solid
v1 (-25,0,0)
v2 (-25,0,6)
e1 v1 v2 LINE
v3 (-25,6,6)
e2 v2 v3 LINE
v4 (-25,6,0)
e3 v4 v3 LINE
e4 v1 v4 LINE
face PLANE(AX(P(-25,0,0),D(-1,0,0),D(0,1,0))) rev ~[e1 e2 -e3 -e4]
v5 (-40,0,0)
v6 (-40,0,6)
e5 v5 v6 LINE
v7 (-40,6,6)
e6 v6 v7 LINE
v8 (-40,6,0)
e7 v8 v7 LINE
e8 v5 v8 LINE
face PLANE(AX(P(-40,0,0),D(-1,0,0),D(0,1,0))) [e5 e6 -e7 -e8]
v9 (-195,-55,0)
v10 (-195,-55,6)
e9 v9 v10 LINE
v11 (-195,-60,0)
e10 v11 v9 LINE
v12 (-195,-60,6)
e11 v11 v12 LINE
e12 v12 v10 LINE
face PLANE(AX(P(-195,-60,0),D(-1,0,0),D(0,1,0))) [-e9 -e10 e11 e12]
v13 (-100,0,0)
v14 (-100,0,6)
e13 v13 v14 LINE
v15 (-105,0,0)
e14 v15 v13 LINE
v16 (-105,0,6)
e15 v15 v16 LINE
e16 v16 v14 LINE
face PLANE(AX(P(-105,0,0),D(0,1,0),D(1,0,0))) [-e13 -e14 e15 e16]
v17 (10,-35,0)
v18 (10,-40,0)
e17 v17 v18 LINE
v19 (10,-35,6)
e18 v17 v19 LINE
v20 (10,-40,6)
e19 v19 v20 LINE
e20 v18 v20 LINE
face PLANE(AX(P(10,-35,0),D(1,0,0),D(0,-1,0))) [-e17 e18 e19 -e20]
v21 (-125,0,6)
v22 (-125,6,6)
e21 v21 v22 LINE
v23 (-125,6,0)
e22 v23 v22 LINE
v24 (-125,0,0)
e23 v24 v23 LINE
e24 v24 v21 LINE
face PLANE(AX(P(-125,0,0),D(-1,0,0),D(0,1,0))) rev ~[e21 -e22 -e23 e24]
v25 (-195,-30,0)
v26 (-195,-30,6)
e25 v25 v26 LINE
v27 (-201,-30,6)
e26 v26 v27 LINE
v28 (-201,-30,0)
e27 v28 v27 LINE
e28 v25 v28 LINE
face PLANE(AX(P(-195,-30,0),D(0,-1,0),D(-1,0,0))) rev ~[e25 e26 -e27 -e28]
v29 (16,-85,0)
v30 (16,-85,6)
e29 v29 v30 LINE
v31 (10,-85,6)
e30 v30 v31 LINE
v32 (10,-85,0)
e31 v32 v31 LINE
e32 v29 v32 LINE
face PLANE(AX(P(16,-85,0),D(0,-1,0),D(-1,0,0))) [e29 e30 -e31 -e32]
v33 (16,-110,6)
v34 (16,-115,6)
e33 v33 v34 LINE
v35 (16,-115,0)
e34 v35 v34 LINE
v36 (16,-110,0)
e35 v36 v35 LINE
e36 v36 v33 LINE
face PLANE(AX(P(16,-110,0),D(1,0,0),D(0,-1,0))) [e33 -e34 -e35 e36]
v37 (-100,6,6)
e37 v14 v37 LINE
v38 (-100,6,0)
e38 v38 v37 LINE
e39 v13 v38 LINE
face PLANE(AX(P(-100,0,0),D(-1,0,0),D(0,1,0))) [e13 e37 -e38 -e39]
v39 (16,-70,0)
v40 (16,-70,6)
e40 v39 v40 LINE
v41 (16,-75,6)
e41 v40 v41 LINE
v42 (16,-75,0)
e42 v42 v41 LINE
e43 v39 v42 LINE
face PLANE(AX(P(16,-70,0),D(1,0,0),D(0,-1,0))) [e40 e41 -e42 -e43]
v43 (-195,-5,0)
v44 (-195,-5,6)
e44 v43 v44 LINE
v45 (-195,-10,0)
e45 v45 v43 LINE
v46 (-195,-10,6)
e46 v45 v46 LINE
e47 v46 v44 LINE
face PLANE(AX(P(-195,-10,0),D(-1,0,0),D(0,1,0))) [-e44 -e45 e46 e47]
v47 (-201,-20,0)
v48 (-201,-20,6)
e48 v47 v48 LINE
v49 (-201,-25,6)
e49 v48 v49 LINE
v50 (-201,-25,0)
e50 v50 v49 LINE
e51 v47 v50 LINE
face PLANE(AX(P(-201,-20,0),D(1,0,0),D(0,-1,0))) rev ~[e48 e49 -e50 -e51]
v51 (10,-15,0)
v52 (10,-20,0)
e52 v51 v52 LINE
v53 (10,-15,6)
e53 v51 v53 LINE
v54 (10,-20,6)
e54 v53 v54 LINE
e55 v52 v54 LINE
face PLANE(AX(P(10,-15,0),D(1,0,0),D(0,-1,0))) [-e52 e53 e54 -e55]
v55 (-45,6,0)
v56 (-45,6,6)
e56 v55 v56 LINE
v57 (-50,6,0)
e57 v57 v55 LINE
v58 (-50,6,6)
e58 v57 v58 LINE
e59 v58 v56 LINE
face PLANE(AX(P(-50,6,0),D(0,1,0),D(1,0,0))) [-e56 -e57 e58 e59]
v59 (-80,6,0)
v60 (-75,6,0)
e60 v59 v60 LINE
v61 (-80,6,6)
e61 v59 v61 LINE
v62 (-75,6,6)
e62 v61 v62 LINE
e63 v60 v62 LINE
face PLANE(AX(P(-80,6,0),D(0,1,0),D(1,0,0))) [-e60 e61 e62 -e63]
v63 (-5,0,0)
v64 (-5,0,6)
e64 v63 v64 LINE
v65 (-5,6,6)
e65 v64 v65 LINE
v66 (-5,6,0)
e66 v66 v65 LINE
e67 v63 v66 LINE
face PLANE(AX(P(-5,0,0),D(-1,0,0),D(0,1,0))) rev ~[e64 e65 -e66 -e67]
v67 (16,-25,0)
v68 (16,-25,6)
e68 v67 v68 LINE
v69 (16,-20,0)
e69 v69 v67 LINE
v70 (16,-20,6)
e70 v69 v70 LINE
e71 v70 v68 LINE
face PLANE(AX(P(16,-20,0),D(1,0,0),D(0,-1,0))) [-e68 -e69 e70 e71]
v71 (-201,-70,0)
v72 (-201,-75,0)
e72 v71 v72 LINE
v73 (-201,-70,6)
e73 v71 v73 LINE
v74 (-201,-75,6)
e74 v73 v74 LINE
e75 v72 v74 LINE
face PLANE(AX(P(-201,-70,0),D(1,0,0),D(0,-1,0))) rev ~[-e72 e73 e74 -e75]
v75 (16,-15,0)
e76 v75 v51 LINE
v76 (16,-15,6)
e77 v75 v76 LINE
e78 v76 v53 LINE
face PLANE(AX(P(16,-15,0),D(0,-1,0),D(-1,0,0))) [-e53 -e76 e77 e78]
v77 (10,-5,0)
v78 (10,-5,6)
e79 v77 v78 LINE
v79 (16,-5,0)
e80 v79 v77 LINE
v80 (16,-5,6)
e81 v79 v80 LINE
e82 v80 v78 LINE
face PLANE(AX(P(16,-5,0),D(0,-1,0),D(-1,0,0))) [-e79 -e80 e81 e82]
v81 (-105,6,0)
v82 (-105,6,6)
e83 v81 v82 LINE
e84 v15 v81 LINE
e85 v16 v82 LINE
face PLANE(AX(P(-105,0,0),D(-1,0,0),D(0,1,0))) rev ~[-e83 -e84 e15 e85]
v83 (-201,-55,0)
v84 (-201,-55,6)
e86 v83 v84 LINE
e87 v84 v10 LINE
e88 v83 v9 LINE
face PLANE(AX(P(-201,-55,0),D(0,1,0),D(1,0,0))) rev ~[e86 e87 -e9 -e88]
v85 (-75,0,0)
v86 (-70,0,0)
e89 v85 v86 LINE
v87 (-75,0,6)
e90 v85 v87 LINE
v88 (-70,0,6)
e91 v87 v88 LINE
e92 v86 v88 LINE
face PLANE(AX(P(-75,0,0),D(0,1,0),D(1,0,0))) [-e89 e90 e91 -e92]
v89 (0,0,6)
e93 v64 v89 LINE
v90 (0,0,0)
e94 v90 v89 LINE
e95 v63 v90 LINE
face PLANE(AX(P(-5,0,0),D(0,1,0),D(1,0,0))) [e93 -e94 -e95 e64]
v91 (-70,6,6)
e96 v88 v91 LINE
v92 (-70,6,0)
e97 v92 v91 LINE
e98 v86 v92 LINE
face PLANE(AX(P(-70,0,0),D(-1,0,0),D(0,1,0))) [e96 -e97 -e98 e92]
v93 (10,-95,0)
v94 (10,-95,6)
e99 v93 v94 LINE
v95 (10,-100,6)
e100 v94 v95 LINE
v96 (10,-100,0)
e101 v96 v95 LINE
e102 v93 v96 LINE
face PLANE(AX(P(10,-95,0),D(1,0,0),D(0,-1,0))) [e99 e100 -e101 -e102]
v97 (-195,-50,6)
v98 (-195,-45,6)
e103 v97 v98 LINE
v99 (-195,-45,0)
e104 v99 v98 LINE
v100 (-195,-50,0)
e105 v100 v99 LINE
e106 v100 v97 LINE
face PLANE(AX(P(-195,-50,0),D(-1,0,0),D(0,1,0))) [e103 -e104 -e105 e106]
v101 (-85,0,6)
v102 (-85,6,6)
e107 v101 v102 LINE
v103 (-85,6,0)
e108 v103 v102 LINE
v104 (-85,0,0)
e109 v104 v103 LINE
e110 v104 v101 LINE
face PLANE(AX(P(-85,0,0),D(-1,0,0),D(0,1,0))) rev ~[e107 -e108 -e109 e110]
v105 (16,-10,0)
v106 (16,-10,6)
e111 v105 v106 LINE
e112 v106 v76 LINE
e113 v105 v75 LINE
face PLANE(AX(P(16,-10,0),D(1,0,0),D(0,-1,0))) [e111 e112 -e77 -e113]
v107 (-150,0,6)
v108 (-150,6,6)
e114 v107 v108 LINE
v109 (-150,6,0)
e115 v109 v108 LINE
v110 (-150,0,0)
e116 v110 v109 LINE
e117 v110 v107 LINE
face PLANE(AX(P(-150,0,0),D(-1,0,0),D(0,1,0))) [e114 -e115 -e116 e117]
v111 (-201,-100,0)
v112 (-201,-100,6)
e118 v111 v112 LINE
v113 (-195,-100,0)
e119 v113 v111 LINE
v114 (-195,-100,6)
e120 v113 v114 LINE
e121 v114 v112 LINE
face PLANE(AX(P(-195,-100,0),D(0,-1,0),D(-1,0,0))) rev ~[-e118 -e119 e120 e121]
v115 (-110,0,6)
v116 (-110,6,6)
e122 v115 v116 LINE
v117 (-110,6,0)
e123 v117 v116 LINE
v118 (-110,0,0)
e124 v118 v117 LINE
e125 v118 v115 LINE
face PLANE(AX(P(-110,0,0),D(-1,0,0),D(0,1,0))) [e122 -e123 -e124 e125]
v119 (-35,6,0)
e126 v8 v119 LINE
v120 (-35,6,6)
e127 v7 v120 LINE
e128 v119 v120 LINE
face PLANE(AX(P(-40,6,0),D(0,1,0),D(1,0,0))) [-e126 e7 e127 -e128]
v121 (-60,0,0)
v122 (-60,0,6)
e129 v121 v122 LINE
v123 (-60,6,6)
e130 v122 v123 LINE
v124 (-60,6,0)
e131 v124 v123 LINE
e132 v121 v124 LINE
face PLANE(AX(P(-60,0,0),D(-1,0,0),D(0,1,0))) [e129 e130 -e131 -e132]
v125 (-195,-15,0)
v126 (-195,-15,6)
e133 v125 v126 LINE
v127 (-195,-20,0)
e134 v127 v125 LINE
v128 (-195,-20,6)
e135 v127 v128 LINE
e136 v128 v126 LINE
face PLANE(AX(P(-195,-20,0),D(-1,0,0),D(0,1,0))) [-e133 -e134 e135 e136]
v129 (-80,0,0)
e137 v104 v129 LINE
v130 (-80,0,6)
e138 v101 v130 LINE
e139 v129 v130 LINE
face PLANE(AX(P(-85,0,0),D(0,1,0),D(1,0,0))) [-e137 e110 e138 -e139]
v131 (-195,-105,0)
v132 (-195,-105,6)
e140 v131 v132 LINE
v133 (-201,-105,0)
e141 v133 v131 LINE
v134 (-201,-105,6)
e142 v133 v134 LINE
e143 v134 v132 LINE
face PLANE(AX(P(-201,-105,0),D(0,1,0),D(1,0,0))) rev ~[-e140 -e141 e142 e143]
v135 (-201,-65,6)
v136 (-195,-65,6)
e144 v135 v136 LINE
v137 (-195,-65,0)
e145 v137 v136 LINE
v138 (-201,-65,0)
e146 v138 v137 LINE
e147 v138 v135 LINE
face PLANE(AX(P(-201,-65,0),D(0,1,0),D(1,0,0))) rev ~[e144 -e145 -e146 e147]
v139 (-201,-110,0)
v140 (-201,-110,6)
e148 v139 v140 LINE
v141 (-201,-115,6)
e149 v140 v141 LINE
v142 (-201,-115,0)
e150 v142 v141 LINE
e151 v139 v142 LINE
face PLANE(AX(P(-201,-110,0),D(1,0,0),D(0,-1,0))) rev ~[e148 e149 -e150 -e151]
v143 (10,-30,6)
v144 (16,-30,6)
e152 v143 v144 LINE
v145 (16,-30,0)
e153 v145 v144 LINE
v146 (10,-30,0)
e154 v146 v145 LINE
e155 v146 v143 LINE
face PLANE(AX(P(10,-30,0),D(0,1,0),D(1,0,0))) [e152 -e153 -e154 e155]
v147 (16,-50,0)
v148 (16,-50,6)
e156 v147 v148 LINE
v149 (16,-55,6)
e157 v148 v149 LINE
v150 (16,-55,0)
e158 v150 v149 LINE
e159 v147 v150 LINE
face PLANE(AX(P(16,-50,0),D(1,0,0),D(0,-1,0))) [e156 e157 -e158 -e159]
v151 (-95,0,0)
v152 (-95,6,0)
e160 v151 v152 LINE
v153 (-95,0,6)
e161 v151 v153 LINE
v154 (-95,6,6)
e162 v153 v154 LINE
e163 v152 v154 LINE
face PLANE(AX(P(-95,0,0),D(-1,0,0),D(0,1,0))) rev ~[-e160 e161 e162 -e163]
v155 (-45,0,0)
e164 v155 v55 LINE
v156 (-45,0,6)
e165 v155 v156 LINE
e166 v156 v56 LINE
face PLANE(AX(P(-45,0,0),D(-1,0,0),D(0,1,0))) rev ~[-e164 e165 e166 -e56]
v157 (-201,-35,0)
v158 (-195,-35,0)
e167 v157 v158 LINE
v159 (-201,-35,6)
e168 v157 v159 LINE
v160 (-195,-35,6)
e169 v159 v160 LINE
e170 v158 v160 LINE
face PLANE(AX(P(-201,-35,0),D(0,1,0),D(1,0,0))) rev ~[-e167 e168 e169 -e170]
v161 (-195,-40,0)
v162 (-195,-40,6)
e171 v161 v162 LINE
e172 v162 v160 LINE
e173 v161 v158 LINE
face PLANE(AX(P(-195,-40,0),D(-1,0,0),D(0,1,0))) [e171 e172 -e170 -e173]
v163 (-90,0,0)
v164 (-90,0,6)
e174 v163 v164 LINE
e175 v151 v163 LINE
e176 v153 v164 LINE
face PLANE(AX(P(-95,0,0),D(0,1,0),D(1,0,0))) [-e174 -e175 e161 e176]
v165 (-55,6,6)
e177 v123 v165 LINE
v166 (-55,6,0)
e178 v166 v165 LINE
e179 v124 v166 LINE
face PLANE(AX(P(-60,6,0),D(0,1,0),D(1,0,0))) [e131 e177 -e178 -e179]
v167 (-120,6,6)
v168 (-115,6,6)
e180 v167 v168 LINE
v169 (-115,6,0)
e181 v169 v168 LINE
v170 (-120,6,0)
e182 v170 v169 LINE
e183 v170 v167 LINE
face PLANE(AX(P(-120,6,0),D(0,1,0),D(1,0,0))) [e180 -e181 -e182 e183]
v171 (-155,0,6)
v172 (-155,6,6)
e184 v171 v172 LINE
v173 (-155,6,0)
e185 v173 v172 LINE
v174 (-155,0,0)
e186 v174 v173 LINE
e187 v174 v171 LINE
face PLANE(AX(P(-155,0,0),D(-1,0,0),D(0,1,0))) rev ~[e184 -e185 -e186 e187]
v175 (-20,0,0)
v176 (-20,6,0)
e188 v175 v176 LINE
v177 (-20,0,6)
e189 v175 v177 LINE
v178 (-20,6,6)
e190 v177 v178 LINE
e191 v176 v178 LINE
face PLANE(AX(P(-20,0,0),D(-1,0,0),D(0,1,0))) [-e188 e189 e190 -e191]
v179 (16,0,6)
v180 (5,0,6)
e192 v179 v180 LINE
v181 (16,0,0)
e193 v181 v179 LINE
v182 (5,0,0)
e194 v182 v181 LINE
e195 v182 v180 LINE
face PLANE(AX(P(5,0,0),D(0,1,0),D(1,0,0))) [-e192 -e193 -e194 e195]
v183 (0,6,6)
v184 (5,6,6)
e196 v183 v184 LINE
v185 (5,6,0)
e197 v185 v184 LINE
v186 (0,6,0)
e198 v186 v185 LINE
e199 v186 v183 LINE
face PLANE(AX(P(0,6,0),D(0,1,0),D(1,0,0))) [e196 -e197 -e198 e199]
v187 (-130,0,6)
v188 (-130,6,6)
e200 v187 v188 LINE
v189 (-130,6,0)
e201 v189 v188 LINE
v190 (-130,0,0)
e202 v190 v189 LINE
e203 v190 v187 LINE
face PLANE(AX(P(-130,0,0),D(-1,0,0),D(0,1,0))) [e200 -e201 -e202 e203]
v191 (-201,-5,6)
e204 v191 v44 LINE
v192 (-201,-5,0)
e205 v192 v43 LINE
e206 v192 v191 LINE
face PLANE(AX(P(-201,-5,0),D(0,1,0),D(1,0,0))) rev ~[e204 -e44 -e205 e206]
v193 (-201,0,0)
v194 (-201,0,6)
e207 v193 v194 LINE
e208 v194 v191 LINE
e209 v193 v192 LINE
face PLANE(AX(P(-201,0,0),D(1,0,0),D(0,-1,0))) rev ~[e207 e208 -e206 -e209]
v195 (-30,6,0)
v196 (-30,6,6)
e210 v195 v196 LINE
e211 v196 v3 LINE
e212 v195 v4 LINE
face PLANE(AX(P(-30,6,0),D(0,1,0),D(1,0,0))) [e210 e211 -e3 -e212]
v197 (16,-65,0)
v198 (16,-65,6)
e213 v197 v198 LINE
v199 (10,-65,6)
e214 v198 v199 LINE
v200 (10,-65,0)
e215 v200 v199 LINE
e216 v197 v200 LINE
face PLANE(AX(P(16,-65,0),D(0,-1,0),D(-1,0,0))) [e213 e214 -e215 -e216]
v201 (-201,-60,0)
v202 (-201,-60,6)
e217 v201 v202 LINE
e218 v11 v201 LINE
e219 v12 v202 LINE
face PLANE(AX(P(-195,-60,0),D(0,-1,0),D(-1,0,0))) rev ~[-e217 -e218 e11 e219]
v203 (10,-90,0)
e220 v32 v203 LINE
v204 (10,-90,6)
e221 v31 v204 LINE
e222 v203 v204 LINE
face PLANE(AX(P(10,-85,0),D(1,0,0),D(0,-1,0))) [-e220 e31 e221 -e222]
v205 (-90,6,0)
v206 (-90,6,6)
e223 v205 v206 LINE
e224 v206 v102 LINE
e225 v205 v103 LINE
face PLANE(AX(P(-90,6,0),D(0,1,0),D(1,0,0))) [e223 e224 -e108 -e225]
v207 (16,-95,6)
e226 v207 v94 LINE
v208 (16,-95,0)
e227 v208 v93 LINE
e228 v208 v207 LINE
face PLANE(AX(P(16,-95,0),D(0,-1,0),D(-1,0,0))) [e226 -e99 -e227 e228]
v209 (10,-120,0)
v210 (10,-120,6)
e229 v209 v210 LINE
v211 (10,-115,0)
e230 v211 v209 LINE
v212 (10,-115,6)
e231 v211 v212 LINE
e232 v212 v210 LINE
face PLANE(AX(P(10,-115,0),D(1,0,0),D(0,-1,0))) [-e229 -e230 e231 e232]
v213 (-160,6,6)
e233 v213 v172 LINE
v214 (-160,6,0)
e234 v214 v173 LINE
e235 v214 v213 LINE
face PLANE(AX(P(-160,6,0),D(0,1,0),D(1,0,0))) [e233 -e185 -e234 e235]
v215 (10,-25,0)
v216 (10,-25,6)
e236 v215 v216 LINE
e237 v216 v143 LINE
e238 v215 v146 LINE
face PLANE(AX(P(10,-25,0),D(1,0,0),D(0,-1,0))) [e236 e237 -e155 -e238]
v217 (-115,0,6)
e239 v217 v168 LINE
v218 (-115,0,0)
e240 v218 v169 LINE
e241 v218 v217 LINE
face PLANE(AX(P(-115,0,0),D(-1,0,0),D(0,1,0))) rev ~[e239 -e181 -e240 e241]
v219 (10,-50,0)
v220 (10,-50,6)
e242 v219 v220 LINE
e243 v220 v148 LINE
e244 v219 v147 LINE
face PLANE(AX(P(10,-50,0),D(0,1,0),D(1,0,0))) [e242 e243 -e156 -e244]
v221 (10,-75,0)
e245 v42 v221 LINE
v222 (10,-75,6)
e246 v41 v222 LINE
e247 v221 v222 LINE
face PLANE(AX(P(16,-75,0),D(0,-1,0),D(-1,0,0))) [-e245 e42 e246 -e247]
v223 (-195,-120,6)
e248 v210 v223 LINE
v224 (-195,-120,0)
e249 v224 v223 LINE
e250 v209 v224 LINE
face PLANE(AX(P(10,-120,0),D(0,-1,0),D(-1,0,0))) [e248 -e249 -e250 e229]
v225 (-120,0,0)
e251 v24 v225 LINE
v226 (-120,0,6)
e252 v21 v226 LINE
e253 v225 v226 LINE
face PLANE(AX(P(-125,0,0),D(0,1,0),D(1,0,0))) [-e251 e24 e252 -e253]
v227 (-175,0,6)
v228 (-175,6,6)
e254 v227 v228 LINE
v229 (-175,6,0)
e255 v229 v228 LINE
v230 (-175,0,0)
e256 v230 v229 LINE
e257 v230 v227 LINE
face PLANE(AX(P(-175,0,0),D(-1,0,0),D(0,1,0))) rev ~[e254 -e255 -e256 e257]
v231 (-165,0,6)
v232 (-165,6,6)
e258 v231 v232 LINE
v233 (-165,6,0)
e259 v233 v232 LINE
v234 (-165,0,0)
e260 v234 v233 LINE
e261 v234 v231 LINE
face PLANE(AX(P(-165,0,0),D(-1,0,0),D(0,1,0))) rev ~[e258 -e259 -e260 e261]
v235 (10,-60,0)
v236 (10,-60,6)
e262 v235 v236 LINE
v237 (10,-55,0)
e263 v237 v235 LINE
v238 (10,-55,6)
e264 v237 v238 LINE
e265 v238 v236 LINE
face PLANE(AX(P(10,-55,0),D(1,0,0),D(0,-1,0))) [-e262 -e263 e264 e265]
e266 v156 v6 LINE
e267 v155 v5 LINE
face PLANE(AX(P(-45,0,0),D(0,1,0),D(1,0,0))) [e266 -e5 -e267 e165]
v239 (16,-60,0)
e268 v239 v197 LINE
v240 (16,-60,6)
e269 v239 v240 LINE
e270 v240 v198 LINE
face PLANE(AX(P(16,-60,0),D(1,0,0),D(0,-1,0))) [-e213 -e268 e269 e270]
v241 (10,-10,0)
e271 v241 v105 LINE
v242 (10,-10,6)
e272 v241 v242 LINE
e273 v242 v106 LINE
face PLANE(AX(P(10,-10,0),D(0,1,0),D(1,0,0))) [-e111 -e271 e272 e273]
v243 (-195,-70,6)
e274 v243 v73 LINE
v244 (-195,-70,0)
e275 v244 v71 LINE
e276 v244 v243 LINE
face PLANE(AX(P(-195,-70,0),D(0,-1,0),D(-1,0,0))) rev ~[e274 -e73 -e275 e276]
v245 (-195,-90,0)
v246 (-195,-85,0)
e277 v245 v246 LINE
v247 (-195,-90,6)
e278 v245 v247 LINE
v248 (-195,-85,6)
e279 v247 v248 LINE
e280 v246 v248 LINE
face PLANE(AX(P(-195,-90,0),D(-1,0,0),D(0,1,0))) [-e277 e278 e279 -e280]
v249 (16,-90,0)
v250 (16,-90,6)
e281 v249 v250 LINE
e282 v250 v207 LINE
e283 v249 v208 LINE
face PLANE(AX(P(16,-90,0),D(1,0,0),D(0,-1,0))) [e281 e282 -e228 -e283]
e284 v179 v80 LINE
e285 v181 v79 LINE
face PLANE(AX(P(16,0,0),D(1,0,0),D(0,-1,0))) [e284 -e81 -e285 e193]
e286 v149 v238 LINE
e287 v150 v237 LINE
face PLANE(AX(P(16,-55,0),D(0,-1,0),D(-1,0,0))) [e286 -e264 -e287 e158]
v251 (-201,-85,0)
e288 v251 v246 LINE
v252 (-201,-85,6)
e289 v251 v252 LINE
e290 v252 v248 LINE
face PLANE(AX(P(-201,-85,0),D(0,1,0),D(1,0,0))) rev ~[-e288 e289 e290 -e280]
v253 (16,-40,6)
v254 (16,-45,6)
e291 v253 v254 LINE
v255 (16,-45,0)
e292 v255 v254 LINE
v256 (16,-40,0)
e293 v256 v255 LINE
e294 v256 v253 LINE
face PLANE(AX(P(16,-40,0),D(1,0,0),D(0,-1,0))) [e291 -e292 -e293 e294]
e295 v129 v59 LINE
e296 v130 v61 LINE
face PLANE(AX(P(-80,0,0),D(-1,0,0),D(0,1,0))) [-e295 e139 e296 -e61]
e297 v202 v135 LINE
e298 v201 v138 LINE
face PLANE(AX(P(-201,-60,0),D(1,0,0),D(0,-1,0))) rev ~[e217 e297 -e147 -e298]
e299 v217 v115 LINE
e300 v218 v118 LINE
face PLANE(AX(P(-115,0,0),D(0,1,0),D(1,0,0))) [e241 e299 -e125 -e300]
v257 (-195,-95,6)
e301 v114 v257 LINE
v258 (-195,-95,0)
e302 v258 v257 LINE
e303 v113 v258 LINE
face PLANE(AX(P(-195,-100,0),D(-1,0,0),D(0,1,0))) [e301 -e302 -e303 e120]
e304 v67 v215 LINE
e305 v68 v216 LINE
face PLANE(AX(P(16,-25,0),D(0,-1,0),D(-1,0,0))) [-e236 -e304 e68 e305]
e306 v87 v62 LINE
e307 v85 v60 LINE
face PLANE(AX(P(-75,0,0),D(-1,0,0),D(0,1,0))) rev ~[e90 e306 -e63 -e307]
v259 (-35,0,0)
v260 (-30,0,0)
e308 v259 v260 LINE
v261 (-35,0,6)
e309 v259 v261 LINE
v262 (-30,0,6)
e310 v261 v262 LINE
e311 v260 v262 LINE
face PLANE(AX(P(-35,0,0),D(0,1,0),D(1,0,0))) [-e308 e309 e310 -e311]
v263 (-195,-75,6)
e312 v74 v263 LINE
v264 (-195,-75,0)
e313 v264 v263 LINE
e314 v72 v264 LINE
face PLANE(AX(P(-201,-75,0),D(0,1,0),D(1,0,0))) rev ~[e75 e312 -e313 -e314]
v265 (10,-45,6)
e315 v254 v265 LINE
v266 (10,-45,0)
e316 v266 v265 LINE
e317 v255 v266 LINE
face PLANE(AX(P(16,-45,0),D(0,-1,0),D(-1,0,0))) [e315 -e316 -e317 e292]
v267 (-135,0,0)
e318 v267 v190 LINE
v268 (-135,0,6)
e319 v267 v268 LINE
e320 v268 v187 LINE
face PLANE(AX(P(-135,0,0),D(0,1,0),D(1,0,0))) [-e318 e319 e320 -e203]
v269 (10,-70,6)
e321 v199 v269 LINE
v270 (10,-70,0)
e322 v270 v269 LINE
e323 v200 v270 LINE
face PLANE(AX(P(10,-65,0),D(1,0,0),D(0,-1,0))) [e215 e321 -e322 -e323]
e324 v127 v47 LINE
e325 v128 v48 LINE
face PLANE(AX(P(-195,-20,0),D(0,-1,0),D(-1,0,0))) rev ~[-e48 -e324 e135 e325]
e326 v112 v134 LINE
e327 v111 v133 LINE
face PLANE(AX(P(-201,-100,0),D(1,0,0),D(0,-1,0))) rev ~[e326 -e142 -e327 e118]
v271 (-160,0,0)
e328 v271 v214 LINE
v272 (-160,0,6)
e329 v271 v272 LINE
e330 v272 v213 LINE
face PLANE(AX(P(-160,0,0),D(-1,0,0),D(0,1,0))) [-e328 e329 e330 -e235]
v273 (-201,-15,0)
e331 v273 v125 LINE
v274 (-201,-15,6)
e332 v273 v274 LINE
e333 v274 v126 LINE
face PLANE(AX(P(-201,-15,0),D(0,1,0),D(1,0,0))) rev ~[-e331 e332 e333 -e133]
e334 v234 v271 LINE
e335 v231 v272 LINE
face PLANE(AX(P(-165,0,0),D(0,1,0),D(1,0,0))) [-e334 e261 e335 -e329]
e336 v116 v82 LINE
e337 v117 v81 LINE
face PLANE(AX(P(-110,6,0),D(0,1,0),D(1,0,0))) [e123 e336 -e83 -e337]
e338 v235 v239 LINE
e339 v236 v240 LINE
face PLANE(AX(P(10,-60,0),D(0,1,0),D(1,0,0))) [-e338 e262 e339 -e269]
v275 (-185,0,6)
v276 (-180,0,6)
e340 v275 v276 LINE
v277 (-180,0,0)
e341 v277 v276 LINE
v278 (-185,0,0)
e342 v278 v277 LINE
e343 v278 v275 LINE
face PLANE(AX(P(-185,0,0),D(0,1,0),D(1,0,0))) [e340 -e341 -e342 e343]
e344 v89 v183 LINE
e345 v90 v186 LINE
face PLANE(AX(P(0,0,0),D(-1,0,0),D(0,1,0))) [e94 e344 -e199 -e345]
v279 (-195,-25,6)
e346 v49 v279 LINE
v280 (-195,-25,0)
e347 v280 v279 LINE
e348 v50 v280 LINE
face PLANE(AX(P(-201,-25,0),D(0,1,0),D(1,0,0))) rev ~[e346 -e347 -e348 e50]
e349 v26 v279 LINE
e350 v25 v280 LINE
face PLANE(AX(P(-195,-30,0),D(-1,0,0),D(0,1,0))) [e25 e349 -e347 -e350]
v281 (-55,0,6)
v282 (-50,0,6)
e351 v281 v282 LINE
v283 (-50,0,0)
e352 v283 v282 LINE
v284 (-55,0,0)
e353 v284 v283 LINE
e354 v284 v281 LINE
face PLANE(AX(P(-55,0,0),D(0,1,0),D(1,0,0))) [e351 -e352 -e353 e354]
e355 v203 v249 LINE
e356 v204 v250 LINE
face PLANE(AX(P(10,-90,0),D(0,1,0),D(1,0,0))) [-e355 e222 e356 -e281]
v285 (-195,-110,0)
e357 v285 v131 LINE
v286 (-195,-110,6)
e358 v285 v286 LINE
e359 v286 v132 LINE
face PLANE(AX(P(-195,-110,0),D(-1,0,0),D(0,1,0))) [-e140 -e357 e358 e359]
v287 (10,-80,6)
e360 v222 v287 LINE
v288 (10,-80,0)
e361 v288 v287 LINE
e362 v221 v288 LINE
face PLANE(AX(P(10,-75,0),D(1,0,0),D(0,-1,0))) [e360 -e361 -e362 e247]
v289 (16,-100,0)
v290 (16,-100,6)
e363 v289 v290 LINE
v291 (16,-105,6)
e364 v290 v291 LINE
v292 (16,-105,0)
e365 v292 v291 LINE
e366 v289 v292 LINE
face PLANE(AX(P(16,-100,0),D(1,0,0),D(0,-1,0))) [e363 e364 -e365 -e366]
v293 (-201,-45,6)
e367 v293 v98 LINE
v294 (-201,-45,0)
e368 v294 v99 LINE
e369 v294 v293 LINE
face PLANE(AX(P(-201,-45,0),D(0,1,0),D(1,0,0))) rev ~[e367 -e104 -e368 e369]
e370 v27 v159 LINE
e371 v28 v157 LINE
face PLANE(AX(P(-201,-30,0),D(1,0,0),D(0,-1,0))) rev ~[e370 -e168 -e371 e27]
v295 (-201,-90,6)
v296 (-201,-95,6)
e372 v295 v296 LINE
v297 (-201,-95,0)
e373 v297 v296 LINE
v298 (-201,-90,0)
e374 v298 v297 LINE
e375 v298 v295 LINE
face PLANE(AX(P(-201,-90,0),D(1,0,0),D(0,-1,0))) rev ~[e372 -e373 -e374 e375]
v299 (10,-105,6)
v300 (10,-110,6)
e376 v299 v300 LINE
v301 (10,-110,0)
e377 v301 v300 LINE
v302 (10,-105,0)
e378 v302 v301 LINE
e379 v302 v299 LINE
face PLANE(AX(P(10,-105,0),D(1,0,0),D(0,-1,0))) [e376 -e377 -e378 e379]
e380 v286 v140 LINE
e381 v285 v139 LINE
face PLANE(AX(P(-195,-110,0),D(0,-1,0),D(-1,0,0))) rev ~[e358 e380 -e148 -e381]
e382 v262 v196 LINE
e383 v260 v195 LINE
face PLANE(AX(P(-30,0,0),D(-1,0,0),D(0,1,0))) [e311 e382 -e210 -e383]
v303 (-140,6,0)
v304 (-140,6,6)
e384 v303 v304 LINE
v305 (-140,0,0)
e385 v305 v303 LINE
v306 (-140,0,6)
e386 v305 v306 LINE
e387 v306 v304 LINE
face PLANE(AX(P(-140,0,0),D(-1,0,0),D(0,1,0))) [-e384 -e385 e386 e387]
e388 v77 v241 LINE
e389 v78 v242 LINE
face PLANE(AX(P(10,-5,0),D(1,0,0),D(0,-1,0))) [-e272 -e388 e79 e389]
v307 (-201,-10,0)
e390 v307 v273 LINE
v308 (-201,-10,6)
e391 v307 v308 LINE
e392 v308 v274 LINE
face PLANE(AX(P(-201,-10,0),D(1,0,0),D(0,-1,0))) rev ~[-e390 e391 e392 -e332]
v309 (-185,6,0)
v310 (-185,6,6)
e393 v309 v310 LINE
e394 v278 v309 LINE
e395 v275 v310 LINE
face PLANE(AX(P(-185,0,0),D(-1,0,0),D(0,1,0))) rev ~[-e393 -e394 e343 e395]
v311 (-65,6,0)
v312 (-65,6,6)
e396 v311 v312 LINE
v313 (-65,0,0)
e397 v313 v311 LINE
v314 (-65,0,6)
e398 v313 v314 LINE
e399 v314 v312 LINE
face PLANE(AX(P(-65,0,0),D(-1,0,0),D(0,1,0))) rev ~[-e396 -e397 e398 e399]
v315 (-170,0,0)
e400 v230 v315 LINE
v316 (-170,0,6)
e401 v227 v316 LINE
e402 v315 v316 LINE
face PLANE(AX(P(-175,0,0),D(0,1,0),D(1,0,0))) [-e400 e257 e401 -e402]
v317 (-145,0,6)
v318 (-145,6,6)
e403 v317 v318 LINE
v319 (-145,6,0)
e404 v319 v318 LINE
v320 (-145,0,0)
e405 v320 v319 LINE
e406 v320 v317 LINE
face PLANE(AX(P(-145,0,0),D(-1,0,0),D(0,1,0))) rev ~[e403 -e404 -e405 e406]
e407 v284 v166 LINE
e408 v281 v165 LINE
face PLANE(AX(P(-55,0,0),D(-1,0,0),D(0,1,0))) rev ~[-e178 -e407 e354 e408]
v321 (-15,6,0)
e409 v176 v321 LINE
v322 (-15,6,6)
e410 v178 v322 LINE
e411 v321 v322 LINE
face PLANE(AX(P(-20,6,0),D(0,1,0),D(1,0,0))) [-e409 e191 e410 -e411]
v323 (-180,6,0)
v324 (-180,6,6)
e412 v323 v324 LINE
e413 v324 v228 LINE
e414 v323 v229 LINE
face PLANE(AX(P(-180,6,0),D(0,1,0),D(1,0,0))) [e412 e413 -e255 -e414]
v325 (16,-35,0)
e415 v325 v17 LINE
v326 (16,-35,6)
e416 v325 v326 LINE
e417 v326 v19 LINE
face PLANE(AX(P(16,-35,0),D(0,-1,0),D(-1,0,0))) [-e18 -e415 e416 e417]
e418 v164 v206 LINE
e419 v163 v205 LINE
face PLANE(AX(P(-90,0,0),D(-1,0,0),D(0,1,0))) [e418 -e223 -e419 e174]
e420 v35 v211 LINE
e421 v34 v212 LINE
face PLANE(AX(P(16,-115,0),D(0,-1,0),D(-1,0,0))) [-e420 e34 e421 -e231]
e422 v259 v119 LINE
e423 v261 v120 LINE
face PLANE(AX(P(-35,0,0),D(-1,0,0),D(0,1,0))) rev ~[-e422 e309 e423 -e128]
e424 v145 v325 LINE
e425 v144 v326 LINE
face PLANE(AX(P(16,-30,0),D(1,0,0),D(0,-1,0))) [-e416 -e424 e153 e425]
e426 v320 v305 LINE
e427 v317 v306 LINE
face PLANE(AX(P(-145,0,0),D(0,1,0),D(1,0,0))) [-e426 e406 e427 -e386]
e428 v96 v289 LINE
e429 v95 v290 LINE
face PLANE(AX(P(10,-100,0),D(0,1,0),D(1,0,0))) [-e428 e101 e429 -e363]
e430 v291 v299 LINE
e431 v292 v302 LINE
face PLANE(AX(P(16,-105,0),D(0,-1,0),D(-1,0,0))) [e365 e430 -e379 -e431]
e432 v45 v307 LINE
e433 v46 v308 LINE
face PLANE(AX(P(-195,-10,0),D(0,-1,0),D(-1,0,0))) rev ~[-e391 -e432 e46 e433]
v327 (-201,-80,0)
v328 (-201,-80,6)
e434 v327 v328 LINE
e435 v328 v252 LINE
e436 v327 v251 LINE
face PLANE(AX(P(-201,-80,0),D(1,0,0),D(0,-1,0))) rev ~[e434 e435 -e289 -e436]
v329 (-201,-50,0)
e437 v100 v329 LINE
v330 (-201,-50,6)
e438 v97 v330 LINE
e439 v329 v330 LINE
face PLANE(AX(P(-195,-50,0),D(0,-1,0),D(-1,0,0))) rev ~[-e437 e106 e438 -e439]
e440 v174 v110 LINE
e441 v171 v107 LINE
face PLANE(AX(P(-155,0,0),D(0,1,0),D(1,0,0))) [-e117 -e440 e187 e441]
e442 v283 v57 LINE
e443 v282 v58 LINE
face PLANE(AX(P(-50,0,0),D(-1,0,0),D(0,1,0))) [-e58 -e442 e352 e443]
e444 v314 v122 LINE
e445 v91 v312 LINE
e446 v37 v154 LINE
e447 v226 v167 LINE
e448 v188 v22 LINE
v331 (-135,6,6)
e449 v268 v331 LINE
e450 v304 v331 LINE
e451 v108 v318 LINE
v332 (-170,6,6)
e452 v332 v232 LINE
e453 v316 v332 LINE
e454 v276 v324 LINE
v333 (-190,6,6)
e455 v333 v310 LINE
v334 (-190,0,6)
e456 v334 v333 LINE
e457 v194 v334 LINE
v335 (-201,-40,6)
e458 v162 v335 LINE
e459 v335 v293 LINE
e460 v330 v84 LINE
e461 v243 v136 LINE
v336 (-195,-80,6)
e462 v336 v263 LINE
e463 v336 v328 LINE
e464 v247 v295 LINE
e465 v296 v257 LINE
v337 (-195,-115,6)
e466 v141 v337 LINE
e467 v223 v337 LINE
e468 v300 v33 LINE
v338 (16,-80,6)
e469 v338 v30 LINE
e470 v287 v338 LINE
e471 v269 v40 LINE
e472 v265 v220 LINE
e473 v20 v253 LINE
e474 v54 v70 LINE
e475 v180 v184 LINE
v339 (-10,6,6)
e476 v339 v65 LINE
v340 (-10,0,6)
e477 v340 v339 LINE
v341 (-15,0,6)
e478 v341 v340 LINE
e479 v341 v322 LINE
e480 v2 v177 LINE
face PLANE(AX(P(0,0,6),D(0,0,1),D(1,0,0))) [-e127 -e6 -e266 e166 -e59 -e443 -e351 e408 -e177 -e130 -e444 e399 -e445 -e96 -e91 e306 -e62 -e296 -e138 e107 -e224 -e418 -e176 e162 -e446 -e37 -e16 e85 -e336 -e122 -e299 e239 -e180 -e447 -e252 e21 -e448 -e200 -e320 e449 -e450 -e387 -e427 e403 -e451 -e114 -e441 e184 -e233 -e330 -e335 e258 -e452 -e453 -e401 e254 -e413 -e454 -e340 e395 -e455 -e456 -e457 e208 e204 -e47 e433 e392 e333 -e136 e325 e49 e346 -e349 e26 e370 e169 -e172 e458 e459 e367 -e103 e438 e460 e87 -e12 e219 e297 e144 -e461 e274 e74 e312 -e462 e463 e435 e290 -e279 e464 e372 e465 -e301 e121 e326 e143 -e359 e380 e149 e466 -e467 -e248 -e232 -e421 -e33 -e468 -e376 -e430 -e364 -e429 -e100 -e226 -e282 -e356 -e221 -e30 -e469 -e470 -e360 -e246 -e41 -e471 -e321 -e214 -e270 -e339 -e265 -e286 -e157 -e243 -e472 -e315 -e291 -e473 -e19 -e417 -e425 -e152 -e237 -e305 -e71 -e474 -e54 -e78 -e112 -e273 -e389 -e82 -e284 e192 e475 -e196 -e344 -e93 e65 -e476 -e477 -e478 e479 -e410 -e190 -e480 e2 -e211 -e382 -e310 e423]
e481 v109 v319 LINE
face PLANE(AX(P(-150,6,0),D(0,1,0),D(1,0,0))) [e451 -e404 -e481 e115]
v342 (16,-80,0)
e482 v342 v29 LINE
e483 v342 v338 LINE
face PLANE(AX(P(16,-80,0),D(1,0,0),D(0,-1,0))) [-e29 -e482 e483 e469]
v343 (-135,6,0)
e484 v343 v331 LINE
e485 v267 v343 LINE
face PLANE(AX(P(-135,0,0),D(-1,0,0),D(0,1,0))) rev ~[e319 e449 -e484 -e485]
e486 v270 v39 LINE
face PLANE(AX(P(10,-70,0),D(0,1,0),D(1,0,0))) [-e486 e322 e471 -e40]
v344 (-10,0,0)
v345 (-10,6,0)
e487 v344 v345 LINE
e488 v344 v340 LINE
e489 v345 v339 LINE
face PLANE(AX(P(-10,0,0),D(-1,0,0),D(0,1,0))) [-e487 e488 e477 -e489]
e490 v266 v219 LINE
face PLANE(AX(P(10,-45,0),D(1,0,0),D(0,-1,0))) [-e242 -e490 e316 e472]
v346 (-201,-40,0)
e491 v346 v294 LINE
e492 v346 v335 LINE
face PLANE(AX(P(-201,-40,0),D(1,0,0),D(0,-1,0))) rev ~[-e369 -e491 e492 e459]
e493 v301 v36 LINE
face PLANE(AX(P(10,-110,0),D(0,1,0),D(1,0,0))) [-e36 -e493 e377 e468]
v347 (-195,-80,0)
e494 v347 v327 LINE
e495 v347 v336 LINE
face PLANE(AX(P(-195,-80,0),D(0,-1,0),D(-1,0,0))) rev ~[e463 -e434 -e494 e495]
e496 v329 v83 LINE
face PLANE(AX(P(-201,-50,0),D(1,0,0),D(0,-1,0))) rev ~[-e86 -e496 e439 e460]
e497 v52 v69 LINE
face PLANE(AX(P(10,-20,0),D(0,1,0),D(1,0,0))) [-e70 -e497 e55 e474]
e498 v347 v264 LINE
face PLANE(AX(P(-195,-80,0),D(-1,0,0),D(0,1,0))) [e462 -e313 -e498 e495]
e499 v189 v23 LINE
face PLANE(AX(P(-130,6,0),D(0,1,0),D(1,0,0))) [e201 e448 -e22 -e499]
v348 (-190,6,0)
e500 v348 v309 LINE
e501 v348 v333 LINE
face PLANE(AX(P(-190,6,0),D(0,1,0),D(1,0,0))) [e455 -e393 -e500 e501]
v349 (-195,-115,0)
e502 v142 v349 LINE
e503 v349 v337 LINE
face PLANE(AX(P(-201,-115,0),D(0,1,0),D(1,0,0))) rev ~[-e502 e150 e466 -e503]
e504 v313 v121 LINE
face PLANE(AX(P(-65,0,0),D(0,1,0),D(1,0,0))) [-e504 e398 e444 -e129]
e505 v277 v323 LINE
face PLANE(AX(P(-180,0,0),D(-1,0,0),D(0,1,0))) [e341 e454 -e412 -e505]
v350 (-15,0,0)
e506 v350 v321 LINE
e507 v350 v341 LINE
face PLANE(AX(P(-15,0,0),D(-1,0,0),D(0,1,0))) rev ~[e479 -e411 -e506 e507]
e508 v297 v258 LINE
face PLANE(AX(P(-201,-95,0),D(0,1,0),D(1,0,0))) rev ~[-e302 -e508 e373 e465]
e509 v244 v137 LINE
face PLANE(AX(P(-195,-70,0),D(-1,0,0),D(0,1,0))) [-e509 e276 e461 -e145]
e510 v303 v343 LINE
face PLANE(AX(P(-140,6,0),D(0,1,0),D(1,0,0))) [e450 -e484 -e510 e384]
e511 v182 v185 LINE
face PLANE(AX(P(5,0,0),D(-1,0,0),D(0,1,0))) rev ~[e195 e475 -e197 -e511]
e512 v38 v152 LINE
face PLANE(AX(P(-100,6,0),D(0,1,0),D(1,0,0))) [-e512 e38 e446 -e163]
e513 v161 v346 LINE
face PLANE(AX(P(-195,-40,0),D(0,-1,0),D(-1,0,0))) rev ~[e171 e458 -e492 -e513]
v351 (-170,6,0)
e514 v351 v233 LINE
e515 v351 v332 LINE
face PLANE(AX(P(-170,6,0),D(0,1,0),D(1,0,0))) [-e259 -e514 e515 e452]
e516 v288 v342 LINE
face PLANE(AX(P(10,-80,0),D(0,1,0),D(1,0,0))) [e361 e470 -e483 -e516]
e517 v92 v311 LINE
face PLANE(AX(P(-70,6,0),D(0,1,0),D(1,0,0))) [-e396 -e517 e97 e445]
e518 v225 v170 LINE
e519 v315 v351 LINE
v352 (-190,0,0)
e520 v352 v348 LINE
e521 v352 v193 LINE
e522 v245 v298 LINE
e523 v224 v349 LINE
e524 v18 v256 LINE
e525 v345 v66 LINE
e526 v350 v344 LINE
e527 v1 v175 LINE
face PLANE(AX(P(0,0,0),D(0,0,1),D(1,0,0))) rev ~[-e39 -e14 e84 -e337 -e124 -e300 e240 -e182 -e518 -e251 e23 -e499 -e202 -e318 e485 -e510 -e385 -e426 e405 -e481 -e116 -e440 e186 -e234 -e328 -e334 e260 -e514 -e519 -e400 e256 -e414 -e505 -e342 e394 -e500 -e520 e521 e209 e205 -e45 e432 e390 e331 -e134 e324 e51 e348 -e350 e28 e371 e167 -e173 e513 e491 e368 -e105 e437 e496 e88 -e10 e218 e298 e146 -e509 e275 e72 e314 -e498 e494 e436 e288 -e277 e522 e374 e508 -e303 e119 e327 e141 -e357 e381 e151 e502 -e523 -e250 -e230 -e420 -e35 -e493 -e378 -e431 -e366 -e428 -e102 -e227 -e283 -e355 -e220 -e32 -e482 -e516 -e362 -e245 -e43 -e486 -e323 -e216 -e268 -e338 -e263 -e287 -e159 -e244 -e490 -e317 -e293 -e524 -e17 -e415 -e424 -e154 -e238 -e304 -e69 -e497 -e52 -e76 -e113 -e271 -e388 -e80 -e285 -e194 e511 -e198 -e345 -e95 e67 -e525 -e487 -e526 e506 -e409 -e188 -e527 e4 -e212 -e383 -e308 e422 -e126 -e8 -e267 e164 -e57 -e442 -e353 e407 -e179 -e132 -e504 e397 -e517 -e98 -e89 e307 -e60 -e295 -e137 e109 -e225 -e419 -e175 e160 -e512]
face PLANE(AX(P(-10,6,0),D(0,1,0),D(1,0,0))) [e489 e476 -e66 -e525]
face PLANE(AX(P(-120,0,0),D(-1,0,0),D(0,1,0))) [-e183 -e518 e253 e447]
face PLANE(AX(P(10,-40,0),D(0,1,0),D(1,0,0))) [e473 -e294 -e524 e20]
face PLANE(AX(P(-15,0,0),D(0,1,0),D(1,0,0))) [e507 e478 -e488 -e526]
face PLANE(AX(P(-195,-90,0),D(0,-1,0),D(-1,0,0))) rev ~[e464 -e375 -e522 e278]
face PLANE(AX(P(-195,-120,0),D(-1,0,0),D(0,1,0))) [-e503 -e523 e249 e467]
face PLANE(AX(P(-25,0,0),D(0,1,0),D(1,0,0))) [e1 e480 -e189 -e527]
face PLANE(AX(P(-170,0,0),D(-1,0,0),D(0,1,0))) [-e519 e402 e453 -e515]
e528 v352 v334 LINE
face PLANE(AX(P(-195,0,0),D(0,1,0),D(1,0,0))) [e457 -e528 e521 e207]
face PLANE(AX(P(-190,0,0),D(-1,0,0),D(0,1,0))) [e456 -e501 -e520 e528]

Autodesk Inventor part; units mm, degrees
ref_plane "YZ Plane" through (0, 0, 0) normal (1, 0, 0) x (0, 1, 0)
ref_plane "XZ Plane" through (0, 0, 0) normal (0, 1, 0) x (-1, 0, 0)
ref_plane "XY Plane" through (0, 0, 0) normal (0, 0, 1) x (1, 0, 0)
sketch "Эскиз1" plane through (0, 0, 0) normal (0, 0, 1) x (1, 0, 0)
  line L0 (-190, 0) -> (-185, 0) projected
  line L1 (-185, 0) -> (-185, 6) projected
  line L2 (-190, 6) -> (-185, 6) projected
  line L3 (-190, 0) -> (-190, 6) projected
  line L4 (-180, 0) -> (-175, 0) projected
  line L5 (-175, 0) -> (-175, 6) projected
  line L6 (-180, 6) -> (-175, 6) projected
  line L7 (-180, 0) -> (-180, 6) projected
  line L8 (-170, 0) -> (-165, 0) projected
  line L9 (-165, 0) -> (-165, 6) projected
  line L10 (-170, 6) -> (-165, 6) projected
  line L11 (-170, 0) -> (-170, 6) projected
  line L12 (-160, 0) -> (-155, 0) projected
  line L13 (-155, 0) -> (-155, 6) projected
  line L14 (-160, 6) -> (-155, 6) projected
  line L15 (-160, 0) -> (-160, 6) projected
  line L16 (-150, 0) -> (-145, 0) projected
  line L17 (-145, 0) -> (-145, 6) projected
  line L18 (-150, 6) -> (-145, 6) projected
  line L19 (-150, 0) -> (-150, 6) projected
  line L20 (-140, 0) -> (-135, 0) projected
  line L21 (-135, 0) -> (-135, 6) projected
  line L22 (-140, 6) -> (-135, 6) projected
  line L23 (-140, 0) -> (-140, 6) projected
  line L24 (-130, 0) -> (-125, 0) projected
  line L25 (-125, 0) -> (-125, 6) projected
  line L26 (-130, 6) -> (-125, 6) projected
  line L27 (-130, 0) -> (-130, 6) projected
  line L28 (-120, 0) -> (-115, 0) projected
  line L29 (-115, 0) -> (-115, 6) projected
  line L30 (-120, 6) -> (-115, 6) projected
  line L31 (-120, 0) -> (-120, 6) projected
  line L32 (-110, 0) -> (-105, 0) projected
  line L33 (-105, 0) -> (-105, 6) projected
  line L34 (-110, 6) -> (-105, 6) projected
  line L35 (-110, 0) -> (-110, 6) projected
  line L36 (-100, 0) -> (-95, 0) projected
  line L37 (-95, 0) -> (-95, 6) projected
  line L38 (-100, 6) -> (-95, 6) projected
  line L39 (-100, 0) -> (-100, 6) projected
  line L40 (-90, 0) -> (-85, 0) projected
  line L41 (-85, 0) -> (-85, 6) projected
  line L42 (-90, 6) -> (-85, 6) projected
  line L43 (-90, 0) -> (-90, 6) projected
  line L44 (-80, 0) -> (-75, 0) projected
  line L45 (-75, 0) -> (-75, 6) projected
  line L46 (-80, 6) -> (-75, 6) projected
  line L47 (-80, 0) -> (-80, 6) projected
  line L48 (-65, 0) -> (-65, 6) projected
  line L49 (-70, 0) -> (-65, 0) projected
  line L50 (-65, 0) -> (-65, 6) projected
  line L51 (-70, 6) -> (-65, 6) projected
  line L52 (-70, 0) -> (-70, 6) projected
  line L53 (-60, 0) -> (-55, 0) projected
  line L54 (-55, 0) -> (-55, 6) projected
  line L55 (-60, 6) -> (-55, 6) projected
  line L56 (-60, 0) -> (-60, 6) projected
  line L57 (-50, 0) -> (-45, 0) projected
  line L58 (-45, 0) -> (-45, 6) projected
  line L59 (-50, 6) -> (-45, 6) projected
  line L60 (-50, 0) -> (-50, 6) projected
  line L61 (-40, 0) -> (-35, 0) projected
  line L62 (-35, 0) -> (-35, 6) projected
  line L63 (-40, 6) -> (-35, 6) projected
  line L64 (-40, 0) -> (-40, 6) projected
  line L65 (-30, 0) -> (-25, 0) projected
  line L66 (-25, 0) -> (-25, 6) projected
  line L67 (-30, 6) -> (-25, 6) projected
  line L68 (-30, 0) -> (-30, 6) projected
  line L69 (-20, 0) -> (-15, 0) projected
  line L70 (-15, 0) -> (-15, 6) projected
  line L71 (-20, 6) -> (-15, 6) projected
  line L72 (-20, 0) -> (-20, 6) projected
  line L73 (-10, 0) -> (-5, 0) projected
  line L74 (-5, 0) -> (-5, 6) projected
  line L75 (-10, 6) -> (-5, 6) projected
  line L76 (-10, 0) -> (-10, 6) projected
  line L77 (0, 0) -> (5, 0) projected
  line L78 (5, 0) -> (5, 6) projected
  line L79 (0, 6) -> (5, 6) projected
  line L80 (0, 0) -> (0, 6) projected
  line L81 (5, 0) -> (10, 0) projected
  line L82 (-195, 0) -> (-190, 0) projected
  line L83 (-195, 0) -> (10, 0)
  line L84 (10, 0) -> (10, -120)
  line L85 (10, -120) -> (-195, -120)
  line L86 (-195, -120) -> (-195, 0)
  line L87 (5, 0) -> (10, 0) projected
  line L88 (-195, 0) -> (-201, 0)
  line L89 (-201, 0) -> (-201, -5)
  line L90 (-201, -5) -> (-195, -5)
  line L91 (-195, -5) -> (-195, 0)
  line L92 (-195, -15) -> (-195, -10)
  line L93 (-195, -10) -> (-201, -10)
  line L94 (-201, -10) -> (-201, -15)
  line L95 (-201, -15) -> (-195, -15)
  line L96 (-195, -25) -> (-195, -20)
  line L97 (-195, -20) -> (-201, -20)
  line L98 (-201, -20) -> (-201, -25)
  line L99 (-201, -25) -> (-195, -25)
  line L100 (-195, -35) -> (-195, -30)
  line L101 (-195, -30) -> (-201, -30)
  line L102 (-201, -30) -> (-201, -35)
  line L103 (-201, -35) -> (-195, -35)
  line L104 (-195, -45) -> (-195, -40)
  line L105 (-195, -40) -> (-201, -40)
  line L106 (-201, -40) -> (-201, -45)
  line L107 (-201, -45) -> (-195, -45)
  line L108 (-195, -55) -> (-195, -50)
  line L109 (-195, -50) -> (-201, -50)
  line L110 (-201, -50) -> (-201, -55)
  line L111 (-201, -55) -> (-195, -55)
  line L112 (-195, -65) -> (-195, -60)
  line L113 (-195, -60) -> (-201, -60)
  line L114 (-201, -60) -> (-201, -65)
  line L115 (-201, -65) -> (-195, -65)
  line L116 (-195, -75) -> (-195, -70)
  line L117 (-195, -70) -> (-201, -70)
  line L118 (-201, -70) -> (-201, -75)
  line L119 (-201, -75) -> (-195, -75)
  line L120 (-195, -85) -> (-195, -80)
  line L121 (-195, -80) -> (-201, -80)
  line L122 (-201, -80) -> (-201, -85)
  line L123 (-201, -85) -> (-195, -85)
  line L124 (-195, -95) -> (-195, -90)
  line L125 (-195, -90) -> (-201, -90)
  line L126 (-201, -90) -> (-201, -95)
  line L127 (-201, -95) -> (-195, -95)
  line L128 (-195, -105) -> (-195, -100)
  line L129 (-195, -100) -> (-201, -100)
  line L130 (-201, -100) -> (-201, -105)
  line L131 (-201, -105) -> (-195, -105)
  line L132 (-195, -115) -> (-195, -110)
  line L133 (-195, -110) -> (-201, -110)
  line L134 (-201, -110) -> (-201, -115)
  line L135 (-201, -115) -> (-195, -115)
  line L136 (10, 0) -> (16, 0)
  line L137 (16, 0) -> (16, -5)
  line L138 (16, -5) -> (10, -5)
  line L139 (10, -5) -> (10, 0)
  line L140 (10, -15) -> (10, -10)
  line L141 (10, -10) -> (16, -10)
  line L142 (16, -15) -> (10, -15)
  line L143 (16, -10) -> (16, -15)
  line L144 (10, -25) -> (10, -20)
  line L145 (10, -20) -> (16, -20)
  line L146 (16, -25) -> (10, -25)
  line L147 (16, -20) -> (16, -25)
  line L148 (10, -35) -> (10, -30)
  line L149 (10, -30) -> (16, -30)
  line L150 (16, -35) -> (10, -35)
  line L151 (16, -30) -> (16, -35)
  line L152 (10, -45) -> (10, -40)
  line L153 (10, -40) -> (16, -40)
  line L154 (16, -45) -> (10, -45)
  line L155 (16, -40) -> (16, -45)
  line L156 (10, -55) -> (10, -50)
  line L157 (10, -50) -> (16, -50)
  line L158 (16, -55) -> (10, -55)
  line L159 (16, -50) -> (16, -55)
  line L160 (10, -65) -> (10, -60)
  line L161 (10, -60) -> (16, -60)
  line L162 (16, -65) -> (10, -65)
  line L163 (16, -60) -> (16, -65)
  line L164 (10, -75) -> (10, -70)
  line L165 (10, -70) -> (16, -70)
  line L166 (16, -75) -> (10, -75)
  line L167 (16, -70) -> (16, -75)
  line L168 (10, -85) -> (10, -80)
  line L169 (10, -80) -> (16, -80)
  line L170 (16, -85) -> (10, -85)
  line L171 (16, -80) -> (16, -85)
  line L172 (10, -95) -> (10, -90)
  line L173 (10, -90) -> (16, -90)
  line L174 (16, -95) -> (10, -95)
  line L175 (16, -90) -> (16, -95)
  line L176 (10, -105) -> (10, -100)
  line L177 (10, -100) -> (16, -100)
  line L178 (16, -105) -> (10, -105)
  line L179 (16, -100) -> (16, -105)
  line L180 (10, -115) -> (10, -110)
  line L181 (10, -110) -> (16, -110)
  line L182 (16, -115) -> (10, -115)
  line L183 (16, -110) -> (16, -115)
  dimension "d2" = 120
  dimension "d3" = 6
  dimension "d4" = 5
  dimension "d7" = 10
  dimension "d12" = 6
  dimension "d13" = 5
  dimension "d16" = 10
extrude "Выдавливание1" add sketch "Эскиз1" along normal blind 6
properties part number "longsten"
